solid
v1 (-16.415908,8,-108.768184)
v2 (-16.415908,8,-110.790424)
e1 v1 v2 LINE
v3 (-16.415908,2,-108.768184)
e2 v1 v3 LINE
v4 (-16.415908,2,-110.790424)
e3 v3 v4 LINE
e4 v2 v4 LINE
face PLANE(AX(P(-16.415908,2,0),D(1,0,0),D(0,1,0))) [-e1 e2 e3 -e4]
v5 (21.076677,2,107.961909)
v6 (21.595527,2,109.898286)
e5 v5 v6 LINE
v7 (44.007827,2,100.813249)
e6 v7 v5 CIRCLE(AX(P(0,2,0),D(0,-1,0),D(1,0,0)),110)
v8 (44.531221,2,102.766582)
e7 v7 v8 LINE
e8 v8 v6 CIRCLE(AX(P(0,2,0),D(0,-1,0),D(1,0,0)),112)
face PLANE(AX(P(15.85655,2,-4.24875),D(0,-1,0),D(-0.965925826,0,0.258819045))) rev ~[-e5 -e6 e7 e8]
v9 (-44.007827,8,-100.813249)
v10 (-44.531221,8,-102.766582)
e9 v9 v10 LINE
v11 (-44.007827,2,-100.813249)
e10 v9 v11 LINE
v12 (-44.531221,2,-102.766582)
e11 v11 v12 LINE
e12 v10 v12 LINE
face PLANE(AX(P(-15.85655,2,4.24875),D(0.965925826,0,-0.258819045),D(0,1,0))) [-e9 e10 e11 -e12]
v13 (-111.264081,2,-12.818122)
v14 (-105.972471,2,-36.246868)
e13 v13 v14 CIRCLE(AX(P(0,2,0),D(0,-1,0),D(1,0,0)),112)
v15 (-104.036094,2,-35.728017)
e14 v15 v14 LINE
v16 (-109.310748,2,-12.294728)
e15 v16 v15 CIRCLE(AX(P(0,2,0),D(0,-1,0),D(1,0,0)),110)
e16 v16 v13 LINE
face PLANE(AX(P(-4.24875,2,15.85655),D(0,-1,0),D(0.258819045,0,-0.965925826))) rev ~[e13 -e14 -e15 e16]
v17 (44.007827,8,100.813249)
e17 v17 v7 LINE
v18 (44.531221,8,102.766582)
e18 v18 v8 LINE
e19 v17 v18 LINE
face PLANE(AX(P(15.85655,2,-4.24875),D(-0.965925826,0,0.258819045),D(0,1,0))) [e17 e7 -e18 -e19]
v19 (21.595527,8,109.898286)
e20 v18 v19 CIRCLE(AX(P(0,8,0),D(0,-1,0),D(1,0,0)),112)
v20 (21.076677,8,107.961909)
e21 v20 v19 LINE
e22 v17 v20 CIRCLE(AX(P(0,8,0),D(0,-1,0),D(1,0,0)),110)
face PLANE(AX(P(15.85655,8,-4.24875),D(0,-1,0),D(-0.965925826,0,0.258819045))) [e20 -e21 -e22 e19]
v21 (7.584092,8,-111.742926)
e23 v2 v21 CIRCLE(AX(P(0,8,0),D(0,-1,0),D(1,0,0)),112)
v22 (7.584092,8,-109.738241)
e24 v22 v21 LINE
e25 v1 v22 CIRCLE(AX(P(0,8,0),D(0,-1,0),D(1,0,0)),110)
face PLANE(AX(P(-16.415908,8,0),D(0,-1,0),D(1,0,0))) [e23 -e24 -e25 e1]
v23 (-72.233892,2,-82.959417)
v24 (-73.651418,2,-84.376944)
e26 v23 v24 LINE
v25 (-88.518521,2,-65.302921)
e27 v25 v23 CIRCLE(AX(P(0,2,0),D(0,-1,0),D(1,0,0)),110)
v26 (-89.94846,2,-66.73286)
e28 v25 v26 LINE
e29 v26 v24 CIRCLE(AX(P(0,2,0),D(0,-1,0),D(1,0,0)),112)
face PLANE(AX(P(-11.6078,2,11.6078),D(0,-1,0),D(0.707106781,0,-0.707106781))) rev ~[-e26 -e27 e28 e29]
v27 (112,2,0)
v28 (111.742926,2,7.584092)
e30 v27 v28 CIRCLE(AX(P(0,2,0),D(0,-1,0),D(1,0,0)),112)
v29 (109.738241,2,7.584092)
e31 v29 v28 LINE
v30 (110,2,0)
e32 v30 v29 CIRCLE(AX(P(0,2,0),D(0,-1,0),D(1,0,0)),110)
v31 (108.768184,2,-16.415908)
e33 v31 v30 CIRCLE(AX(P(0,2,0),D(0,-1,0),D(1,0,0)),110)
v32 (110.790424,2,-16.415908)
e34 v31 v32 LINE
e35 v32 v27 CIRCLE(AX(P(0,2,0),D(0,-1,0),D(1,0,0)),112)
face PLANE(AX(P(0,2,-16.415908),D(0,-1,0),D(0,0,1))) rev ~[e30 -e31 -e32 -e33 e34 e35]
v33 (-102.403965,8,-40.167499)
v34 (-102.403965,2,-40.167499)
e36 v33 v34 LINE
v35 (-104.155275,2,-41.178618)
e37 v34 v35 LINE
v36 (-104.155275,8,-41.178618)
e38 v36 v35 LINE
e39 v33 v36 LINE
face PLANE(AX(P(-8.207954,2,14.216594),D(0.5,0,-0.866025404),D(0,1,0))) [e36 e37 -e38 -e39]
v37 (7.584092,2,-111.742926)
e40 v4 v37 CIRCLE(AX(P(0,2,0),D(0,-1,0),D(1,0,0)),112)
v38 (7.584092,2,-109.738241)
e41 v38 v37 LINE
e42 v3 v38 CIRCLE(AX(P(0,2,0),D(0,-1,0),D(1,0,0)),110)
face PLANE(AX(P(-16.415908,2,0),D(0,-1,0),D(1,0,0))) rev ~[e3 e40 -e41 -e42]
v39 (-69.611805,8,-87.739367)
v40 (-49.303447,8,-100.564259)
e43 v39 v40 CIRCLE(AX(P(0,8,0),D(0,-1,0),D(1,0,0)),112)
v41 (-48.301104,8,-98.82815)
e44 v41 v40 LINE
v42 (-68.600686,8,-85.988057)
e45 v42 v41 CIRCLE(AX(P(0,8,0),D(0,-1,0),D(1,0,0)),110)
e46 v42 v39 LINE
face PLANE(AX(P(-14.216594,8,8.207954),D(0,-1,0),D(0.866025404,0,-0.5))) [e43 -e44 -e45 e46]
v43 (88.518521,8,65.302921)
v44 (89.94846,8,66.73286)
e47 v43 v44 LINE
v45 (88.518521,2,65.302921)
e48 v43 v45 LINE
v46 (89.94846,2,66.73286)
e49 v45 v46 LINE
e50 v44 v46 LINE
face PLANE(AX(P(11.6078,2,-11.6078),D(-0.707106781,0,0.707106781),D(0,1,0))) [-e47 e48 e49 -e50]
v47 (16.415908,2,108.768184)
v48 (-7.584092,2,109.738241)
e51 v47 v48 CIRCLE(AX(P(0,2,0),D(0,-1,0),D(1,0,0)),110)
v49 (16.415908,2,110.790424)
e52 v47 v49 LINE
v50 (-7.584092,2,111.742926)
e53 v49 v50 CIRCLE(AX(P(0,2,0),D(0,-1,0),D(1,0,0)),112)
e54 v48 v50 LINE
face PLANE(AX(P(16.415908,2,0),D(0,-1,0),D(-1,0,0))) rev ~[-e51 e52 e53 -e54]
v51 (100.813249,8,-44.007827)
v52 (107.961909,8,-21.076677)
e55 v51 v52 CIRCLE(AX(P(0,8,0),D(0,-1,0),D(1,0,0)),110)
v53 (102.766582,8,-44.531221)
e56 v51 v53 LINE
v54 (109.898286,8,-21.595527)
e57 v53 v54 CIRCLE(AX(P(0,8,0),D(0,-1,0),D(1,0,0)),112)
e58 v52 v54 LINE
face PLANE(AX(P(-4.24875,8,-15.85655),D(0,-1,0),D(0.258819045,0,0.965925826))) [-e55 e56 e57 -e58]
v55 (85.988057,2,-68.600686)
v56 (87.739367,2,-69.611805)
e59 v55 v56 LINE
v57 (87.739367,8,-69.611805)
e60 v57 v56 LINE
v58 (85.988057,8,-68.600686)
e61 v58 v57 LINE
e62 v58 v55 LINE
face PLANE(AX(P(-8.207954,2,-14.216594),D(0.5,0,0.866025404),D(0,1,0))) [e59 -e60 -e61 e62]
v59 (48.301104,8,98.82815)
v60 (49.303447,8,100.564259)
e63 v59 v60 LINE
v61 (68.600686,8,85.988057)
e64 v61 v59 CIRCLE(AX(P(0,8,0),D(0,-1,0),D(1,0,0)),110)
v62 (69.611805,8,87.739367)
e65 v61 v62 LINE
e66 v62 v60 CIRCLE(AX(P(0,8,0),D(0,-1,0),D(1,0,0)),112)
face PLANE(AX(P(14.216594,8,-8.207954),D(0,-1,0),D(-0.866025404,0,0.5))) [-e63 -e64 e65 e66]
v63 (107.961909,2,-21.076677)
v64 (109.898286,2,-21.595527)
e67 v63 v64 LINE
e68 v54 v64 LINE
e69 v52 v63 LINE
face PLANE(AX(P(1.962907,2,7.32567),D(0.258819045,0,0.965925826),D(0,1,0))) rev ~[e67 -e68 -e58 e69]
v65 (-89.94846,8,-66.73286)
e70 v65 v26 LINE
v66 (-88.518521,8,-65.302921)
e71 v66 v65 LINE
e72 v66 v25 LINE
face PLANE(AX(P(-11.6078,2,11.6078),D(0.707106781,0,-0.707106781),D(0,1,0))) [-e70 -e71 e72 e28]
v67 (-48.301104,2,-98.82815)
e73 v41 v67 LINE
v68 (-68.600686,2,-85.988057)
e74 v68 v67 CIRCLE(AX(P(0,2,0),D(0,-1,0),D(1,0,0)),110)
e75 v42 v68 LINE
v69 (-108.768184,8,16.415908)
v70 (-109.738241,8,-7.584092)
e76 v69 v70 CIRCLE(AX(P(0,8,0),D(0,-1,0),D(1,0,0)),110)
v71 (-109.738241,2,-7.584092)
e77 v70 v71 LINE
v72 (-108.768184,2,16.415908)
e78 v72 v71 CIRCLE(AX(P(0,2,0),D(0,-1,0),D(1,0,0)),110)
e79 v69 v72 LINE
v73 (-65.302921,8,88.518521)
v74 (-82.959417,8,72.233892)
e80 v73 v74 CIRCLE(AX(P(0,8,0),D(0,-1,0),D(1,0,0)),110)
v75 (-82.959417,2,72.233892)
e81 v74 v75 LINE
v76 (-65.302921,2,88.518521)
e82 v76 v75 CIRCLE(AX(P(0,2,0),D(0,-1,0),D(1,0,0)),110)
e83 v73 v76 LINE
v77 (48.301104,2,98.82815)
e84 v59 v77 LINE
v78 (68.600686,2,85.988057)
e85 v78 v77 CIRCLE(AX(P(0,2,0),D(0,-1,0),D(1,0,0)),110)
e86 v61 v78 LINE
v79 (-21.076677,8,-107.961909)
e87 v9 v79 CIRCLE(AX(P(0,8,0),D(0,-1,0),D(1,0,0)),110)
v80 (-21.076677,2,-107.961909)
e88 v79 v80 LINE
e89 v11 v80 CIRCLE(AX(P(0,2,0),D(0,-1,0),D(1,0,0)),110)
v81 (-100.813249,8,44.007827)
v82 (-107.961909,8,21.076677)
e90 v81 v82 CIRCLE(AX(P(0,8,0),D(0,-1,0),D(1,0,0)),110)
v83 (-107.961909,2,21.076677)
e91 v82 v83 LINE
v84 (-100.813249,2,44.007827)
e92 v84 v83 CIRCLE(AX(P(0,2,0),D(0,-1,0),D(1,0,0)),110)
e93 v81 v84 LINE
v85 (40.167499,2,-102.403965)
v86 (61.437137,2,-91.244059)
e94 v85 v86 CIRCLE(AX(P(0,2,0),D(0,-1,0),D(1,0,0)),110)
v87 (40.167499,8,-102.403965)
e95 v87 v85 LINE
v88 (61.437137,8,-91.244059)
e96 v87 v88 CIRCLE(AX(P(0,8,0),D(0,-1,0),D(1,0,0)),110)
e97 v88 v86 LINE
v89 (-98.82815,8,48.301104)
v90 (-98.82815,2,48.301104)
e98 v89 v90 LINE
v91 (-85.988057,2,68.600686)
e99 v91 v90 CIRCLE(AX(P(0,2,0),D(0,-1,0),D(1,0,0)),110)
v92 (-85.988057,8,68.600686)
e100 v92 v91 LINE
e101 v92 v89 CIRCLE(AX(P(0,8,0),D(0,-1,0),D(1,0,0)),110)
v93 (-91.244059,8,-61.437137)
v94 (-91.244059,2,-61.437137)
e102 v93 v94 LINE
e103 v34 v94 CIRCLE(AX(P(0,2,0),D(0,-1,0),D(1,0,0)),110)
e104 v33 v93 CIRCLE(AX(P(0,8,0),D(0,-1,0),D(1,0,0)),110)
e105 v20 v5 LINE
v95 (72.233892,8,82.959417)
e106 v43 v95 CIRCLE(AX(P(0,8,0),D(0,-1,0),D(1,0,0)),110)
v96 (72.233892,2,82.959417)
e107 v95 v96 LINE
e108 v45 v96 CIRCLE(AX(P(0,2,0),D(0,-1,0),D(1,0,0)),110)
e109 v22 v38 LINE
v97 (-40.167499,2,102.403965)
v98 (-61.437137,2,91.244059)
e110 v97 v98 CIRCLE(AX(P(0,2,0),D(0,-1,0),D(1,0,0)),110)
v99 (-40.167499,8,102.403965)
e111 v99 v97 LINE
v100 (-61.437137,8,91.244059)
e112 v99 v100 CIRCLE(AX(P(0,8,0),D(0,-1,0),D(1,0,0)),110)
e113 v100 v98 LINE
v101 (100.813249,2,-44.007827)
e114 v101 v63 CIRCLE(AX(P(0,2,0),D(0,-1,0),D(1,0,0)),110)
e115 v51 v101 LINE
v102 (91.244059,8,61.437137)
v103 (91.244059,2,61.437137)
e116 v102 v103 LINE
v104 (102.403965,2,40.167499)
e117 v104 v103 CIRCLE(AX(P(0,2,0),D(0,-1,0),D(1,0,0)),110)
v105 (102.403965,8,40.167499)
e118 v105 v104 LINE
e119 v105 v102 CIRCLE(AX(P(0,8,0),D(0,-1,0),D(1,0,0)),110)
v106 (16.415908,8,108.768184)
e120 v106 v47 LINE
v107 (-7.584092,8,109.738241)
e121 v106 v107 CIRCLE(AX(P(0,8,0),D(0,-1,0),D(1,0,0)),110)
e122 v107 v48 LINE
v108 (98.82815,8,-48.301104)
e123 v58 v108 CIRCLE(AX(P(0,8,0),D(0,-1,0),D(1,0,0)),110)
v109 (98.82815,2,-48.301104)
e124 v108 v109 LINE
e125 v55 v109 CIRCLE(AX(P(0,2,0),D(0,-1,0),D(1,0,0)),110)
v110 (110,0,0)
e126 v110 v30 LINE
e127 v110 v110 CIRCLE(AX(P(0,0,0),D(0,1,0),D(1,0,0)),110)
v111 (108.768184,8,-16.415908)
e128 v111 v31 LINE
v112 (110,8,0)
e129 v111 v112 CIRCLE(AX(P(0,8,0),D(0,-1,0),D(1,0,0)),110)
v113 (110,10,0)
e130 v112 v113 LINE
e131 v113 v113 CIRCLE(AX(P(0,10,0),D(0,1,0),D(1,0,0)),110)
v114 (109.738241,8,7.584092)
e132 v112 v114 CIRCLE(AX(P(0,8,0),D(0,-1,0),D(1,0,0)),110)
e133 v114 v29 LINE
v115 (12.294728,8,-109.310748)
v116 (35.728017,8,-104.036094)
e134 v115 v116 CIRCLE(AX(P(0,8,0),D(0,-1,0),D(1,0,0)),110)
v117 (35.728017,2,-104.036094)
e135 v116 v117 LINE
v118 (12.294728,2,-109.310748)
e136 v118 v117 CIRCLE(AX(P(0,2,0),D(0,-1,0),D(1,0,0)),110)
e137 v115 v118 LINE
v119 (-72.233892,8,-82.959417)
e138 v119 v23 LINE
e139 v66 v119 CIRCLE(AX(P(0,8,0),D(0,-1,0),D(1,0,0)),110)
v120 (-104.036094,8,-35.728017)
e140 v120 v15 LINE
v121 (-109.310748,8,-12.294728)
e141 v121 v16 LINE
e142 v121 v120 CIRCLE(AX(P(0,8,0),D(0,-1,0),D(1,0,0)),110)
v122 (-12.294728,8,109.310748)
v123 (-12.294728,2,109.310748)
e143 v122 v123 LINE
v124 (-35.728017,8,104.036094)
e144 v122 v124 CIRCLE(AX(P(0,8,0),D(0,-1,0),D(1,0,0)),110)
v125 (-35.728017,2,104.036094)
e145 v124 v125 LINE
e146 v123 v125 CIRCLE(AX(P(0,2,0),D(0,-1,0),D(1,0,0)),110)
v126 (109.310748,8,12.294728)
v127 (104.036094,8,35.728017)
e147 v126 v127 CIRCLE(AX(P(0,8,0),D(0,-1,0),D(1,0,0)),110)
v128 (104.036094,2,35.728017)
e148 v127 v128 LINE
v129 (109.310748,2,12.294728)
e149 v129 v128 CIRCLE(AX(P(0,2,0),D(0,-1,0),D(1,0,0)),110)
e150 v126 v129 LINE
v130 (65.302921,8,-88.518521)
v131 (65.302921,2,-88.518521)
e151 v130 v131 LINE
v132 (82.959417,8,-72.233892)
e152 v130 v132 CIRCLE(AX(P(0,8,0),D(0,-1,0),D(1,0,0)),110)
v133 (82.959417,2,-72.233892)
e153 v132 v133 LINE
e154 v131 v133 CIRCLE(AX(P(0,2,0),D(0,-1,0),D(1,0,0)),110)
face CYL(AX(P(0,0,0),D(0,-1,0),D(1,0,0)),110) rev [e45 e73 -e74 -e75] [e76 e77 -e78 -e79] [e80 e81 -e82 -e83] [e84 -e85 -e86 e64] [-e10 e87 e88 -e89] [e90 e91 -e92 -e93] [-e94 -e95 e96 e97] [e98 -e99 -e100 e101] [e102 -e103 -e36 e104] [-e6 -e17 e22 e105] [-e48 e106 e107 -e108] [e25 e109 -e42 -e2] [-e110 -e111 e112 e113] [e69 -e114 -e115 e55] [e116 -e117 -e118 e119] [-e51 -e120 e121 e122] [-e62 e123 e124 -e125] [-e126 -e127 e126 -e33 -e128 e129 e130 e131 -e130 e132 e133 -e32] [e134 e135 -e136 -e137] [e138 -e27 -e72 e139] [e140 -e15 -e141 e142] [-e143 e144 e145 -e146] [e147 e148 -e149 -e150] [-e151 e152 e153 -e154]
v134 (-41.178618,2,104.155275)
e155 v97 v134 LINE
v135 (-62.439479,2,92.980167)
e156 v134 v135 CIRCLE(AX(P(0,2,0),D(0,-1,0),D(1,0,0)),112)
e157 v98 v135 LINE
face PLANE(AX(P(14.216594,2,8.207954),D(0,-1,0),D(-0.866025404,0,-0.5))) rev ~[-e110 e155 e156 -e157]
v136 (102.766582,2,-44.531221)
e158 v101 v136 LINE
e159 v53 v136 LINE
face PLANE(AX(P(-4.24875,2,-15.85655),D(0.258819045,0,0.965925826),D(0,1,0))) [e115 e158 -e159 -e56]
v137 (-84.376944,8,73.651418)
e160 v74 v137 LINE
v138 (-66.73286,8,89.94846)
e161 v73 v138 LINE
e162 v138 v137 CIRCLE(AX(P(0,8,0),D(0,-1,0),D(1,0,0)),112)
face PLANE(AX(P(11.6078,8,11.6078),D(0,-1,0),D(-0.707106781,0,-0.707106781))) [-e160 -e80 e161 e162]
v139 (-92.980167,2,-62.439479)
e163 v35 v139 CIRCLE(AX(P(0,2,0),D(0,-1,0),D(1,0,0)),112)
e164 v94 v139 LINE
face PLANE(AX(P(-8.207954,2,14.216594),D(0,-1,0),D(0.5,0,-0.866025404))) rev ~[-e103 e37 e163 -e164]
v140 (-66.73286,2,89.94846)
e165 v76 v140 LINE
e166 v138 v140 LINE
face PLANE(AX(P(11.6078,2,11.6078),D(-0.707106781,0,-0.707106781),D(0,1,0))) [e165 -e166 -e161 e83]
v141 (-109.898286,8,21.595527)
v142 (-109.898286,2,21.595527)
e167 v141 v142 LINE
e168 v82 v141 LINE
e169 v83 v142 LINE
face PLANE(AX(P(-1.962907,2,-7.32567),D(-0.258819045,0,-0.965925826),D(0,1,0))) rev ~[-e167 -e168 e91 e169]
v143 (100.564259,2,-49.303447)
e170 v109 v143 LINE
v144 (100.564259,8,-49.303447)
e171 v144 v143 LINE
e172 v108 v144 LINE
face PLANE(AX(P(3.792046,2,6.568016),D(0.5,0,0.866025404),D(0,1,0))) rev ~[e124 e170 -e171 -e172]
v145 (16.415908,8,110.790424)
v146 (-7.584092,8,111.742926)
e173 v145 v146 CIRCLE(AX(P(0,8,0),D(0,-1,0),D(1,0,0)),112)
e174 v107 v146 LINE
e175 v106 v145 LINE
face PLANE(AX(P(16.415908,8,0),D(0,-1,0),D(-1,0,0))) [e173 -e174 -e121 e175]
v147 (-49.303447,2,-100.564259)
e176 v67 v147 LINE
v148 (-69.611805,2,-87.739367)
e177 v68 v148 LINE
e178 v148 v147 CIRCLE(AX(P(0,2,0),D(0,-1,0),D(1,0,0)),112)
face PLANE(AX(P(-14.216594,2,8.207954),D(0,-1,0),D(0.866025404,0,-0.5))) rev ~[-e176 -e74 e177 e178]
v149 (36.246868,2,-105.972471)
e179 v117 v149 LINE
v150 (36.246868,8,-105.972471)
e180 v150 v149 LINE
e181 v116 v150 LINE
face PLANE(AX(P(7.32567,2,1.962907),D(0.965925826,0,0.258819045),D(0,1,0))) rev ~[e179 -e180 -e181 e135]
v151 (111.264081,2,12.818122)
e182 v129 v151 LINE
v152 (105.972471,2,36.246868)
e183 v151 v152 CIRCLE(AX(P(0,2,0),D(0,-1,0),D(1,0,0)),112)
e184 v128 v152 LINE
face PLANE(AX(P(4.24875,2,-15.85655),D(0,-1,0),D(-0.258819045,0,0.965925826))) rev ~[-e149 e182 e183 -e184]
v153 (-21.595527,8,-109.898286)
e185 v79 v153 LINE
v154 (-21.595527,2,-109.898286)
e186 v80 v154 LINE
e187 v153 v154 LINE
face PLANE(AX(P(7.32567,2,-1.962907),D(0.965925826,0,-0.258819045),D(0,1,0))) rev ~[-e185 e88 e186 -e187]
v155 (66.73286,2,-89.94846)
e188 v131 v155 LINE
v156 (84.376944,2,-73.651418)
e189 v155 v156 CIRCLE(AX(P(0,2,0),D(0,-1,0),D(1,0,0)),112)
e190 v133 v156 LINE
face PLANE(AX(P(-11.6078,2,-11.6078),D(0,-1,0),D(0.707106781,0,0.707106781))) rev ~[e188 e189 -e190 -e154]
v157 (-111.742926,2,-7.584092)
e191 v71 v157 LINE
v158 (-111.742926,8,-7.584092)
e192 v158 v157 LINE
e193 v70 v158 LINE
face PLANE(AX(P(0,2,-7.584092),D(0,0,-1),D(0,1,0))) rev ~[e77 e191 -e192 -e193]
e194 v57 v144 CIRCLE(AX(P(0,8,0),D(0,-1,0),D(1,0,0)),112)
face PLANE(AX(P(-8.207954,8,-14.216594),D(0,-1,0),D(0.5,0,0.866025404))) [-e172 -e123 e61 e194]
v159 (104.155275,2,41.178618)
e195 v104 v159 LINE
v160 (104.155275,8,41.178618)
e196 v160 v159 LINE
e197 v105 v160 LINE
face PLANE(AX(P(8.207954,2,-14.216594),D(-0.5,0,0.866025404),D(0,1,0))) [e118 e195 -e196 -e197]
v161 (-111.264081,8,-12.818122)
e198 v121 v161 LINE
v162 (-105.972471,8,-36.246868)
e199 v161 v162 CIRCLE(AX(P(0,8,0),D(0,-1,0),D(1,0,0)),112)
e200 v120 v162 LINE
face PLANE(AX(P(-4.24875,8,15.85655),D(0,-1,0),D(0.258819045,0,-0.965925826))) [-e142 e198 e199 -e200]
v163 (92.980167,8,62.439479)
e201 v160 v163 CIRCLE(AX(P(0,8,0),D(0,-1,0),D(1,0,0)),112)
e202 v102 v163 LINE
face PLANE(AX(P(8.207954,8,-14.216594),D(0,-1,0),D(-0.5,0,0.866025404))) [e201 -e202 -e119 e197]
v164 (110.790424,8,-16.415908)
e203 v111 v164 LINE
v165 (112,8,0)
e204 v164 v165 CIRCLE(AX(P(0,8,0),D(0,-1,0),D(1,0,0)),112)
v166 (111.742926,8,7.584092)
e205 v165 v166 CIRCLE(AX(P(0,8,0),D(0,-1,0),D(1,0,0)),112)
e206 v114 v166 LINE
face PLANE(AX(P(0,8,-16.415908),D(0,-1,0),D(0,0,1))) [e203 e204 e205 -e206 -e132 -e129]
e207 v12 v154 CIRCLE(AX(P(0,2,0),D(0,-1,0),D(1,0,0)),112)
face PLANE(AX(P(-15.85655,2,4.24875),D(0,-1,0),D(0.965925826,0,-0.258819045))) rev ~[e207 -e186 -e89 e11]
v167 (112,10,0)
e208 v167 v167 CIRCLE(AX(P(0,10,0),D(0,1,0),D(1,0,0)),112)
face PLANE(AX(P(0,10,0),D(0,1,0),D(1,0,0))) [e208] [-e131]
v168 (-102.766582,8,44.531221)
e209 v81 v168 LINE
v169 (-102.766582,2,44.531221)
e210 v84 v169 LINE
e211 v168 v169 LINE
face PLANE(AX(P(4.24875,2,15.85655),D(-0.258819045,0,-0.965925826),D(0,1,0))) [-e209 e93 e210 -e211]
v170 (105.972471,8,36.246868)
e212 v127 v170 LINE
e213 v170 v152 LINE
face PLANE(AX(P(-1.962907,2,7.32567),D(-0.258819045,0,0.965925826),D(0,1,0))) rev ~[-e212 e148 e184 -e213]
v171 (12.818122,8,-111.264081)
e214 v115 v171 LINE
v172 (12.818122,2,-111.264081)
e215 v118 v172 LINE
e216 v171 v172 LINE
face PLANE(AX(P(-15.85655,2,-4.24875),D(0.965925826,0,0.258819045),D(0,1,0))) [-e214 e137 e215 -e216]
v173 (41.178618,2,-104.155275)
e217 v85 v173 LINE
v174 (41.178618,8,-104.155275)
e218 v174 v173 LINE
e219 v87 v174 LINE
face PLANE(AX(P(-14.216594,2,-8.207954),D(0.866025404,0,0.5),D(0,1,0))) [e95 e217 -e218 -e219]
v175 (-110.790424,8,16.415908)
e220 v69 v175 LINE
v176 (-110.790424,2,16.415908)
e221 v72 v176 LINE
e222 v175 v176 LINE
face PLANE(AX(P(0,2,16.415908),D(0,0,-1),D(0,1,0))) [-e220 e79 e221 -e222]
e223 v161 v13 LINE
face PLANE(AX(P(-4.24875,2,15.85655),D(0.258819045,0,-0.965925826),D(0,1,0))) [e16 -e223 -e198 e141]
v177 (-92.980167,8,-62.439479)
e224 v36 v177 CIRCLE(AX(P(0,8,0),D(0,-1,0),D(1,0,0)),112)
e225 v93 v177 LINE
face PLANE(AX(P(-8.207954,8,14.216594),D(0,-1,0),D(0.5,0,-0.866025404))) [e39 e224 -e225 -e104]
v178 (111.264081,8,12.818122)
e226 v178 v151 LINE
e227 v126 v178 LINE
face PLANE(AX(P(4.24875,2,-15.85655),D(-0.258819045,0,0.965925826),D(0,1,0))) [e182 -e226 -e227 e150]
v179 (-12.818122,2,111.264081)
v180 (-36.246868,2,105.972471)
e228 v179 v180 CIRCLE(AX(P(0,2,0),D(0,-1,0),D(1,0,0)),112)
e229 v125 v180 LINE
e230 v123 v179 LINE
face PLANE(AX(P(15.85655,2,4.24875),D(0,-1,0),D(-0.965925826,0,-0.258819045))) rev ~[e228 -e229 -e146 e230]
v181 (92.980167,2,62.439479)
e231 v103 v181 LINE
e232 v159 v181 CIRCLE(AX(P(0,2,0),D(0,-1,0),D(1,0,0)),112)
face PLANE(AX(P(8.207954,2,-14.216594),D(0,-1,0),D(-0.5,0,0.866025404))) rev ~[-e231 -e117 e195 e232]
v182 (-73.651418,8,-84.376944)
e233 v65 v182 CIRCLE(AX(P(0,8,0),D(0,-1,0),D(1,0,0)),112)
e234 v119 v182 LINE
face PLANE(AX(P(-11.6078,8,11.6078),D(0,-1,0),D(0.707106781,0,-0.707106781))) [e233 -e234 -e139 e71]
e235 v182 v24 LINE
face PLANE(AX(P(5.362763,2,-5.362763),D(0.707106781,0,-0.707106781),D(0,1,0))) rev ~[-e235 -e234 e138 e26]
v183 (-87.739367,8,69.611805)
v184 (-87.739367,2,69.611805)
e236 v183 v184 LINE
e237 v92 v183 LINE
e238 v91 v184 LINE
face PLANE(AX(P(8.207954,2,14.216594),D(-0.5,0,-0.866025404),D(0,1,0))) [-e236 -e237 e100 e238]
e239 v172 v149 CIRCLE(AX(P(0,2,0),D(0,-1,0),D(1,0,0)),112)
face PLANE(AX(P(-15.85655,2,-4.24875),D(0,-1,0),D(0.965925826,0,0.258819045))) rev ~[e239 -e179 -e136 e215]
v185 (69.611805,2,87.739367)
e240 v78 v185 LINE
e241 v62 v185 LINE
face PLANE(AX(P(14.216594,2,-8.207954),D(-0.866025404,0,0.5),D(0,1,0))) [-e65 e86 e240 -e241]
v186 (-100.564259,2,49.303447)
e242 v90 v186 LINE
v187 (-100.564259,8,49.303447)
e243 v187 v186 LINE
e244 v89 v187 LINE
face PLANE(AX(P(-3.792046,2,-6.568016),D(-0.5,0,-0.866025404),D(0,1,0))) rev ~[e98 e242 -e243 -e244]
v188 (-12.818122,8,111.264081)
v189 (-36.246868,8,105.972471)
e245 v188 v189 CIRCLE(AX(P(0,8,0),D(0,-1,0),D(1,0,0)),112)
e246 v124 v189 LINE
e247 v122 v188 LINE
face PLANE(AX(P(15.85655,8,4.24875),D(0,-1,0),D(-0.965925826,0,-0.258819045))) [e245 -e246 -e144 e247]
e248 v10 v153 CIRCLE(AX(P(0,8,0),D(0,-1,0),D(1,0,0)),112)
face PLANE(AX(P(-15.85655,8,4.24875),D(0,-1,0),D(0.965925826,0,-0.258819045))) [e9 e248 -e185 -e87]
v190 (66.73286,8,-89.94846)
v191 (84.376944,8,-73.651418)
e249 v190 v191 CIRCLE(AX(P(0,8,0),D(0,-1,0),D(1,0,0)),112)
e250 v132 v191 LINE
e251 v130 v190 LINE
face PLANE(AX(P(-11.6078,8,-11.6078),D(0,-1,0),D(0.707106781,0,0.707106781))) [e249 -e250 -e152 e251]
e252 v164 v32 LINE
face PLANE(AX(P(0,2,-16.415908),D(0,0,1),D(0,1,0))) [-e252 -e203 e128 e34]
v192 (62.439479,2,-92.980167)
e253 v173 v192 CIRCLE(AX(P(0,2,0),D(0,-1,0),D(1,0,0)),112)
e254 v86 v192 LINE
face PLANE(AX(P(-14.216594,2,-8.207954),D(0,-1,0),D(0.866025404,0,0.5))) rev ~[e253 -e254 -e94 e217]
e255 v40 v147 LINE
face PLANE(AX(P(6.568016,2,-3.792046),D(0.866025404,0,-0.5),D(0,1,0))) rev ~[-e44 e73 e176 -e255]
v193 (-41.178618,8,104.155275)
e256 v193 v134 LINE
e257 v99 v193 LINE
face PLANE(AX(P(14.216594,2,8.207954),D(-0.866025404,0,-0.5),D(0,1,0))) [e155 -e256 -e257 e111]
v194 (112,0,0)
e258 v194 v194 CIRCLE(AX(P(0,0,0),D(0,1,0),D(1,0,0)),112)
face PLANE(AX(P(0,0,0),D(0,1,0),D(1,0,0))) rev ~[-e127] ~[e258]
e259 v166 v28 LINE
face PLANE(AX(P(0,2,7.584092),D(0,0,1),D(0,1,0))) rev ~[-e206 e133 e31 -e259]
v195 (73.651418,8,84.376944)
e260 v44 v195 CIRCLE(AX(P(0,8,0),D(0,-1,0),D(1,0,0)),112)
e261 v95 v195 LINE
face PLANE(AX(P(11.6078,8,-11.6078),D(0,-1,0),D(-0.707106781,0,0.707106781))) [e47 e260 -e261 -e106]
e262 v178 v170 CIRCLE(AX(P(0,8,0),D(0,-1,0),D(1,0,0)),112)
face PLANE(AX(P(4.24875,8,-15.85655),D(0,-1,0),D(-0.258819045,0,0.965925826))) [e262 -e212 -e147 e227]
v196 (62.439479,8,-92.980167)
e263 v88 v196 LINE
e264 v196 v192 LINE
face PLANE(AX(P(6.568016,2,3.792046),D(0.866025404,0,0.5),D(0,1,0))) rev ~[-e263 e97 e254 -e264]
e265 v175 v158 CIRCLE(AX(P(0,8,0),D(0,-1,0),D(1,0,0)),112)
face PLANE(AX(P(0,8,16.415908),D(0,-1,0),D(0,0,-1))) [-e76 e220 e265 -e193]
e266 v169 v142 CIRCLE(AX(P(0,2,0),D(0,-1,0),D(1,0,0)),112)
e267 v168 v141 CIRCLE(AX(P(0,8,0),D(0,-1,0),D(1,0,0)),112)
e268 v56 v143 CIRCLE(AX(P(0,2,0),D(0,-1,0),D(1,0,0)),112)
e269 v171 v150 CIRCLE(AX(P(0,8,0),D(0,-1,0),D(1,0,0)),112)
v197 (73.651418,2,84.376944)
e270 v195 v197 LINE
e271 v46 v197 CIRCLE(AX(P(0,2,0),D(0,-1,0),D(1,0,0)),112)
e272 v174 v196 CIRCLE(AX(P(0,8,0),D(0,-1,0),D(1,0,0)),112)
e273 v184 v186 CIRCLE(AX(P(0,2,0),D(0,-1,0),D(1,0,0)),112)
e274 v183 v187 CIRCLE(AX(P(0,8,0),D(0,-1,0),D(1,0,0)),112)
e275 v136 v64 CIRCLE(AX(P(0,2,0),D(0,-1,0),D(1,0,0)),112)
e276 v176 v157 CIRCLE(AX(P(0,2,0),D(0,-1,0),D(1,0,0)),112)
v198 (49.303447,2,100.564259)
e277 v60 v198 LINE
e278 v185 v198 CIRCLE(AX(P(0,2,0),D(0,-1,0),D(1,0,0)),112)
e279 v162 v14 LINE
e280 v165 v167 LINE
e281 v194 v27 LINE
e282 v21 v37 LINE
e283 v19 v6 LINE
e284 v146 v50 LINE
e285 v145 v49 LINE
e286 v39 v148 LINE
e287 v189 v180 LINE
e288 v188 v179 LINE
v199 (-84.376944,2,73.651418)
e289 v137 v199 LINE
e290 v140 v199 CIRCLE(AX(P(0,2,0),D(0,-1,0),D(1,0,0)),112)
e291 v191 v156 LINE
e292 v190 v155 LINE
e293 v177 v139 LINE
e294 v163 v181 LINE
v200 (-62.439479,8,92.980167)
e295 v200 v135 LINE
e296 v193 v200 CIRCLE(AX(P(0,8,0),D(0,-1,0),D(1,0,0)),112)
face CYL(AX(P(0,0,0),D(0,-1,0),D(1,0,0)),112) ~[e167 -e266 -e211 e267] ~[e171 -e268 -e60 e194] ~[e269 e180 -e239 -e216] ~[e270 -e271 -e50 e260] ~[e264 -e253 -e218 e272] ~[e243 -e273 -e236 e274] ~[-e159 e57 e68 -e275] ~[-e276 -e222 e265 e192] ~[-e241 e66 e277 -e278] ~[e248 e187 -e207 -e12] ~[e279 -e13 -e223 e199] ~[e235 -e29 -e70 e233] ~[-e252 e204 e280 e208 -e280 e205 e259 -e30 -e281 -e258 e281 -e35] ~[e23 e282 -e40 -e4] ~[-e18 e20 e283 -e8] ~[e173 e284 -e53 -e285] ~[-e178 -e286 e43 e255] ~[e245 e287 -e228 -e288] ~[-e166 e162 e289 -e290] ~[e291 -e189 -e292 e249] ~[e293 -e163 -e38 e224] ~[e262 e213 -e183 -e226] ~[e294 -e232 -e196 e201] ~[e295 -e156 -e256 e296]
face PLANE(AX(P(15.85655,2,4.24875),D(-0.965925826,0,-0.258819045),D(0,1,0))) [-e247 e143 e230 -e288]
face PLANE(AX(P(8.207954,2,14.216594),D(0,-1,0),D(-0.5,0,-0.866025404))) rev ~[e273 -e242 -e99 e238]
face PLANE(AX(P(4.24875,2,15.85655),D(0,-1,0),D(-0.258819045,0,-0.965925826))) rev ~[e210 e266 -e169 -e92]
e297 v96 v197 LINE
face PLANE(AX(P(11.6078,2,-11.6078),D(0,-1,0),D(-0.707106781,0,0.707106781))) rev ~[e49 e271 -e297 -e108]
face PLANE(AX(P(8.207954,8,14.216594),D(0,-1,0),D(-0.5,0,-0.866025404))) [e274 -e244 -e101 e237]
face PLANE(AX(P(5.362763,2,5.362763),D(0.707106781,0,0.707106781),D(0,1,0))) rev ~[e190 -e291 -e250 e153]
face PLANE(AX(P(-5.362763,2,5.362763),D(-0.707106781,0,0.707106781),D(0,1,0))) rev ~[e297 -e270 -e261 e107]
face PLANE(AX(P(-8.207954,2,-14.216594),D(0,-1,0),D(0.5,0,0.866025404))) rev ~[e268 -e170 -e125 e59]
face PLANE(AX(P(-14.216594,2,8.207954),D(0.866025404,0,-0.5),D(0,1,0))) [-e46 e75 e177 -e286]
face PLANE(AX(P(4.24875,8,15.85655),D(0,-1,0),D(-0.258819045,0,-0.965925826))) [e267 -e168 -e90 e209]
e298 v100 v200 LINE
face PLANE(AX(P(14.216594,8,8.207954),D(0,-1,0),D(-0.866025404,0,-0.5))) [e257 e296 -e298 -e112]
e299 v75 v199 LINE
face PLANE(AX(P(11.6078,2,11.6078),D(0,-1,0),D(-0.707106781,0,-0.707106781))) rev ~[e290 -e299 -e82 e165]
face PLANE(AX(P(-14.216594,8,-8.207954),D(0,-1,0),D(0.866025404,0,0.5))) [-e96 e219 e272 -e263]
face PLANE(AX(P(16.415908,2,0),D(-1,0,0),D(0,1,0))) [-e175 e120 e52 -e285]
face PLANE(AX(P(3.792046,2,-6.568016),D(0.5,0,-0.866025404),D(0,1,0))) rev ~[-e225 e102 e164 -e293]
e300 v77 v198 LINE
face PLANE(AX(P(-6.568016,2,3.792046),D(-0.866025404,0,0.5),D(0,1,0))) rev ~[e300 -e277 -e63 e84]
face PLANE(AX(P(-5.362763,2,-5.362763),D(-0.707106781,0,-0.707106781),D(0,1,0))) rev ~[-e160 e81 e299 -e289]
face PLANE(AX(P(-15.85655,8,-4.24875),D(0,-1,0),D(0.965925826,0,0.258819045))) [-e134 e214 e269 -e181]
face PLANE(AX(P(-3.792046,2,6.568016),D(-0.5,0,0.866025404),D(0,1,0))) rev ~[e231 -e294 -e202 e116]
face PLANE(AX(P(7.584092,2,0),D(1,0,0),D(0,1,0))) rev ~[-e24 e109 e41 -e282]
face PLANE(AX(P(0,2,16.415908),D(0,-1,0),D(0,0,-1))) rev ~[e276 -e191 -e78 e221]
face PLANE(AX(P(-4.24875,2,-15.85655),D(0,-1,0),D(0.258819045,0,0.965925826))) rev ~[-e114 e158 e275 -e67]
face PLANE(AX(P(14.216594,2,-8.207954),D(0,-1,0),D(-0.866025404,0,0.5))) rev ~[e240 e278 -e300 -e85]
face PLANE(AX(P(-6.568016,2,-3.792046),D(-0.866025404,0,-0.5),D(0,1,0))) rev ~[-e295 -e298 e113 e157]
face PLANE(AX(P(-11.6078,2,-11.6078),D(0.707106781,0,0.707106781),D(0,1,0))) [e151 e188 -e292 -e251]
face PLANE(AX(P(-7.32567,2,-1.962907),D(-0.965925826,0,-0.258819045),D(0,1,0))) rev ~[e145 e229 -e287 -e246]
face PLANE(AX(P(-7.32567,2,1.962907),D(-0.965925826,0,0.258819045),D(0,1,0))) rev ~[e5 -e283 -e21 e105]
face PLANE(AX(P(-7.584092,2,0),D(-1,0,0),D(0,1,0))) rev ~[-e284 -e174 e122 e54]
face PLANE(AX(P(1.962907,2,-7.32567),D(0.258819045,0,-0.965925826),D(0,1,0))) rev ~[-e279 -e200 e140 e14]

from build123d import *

# Parameters (mm, degrees)
SKETCH1_R           = 112
SKETCH1_R_2         = 110
BOSS_EXTRUDE1_DEPTH = 10
SKETCH2_W           = 24
SKETCH2_H           = 6
CUT_EXTRUDE1_DEPTH  = 159.707277716
CIRPATTERN1_COUNT   = 24


with BuildPart() as part:
    # Sketch1 → Boss-Extrude1 (new body)
    with BuildSketch(Plane(origin=(0, 0, 0), x_dir=(1, 0, 0), z_dir=(0, 1, 0))):
        Circle(SKETCH1_R)
        Circle(SKETCH1_R_2, mode=Mode.SUBTRACT)
    extrude(amount=BOSS_EXTRUDE1_DEPTH)

    # Sketch2 → Cut-Extrude1 (cut, through all)
    with BuildSketch(Plane.XY):
        with Locations((-4.41590823, 5)):
            Rectangle(SKETCH2_W, SKETCH2_H)
    cut_extrude1 = extrude(amount=-CUT_EXTRUDE1_DEPTH, mode=Mode.SUBTRACT)

    # CirPattern1: Cut-Extrude1 ×24 about axis
    cirpattern1_axis = Axis((0, 10, 0), (0, -1, 0))
    for i in range(1, CIRPATTERN1_COUNT):
        add(cut_extrude1.rotate(cirpattern1_axis, i * 360 / CIRPATTERN1_COUNT), mode=Mode.SUBTRACT)


solid = part.part
